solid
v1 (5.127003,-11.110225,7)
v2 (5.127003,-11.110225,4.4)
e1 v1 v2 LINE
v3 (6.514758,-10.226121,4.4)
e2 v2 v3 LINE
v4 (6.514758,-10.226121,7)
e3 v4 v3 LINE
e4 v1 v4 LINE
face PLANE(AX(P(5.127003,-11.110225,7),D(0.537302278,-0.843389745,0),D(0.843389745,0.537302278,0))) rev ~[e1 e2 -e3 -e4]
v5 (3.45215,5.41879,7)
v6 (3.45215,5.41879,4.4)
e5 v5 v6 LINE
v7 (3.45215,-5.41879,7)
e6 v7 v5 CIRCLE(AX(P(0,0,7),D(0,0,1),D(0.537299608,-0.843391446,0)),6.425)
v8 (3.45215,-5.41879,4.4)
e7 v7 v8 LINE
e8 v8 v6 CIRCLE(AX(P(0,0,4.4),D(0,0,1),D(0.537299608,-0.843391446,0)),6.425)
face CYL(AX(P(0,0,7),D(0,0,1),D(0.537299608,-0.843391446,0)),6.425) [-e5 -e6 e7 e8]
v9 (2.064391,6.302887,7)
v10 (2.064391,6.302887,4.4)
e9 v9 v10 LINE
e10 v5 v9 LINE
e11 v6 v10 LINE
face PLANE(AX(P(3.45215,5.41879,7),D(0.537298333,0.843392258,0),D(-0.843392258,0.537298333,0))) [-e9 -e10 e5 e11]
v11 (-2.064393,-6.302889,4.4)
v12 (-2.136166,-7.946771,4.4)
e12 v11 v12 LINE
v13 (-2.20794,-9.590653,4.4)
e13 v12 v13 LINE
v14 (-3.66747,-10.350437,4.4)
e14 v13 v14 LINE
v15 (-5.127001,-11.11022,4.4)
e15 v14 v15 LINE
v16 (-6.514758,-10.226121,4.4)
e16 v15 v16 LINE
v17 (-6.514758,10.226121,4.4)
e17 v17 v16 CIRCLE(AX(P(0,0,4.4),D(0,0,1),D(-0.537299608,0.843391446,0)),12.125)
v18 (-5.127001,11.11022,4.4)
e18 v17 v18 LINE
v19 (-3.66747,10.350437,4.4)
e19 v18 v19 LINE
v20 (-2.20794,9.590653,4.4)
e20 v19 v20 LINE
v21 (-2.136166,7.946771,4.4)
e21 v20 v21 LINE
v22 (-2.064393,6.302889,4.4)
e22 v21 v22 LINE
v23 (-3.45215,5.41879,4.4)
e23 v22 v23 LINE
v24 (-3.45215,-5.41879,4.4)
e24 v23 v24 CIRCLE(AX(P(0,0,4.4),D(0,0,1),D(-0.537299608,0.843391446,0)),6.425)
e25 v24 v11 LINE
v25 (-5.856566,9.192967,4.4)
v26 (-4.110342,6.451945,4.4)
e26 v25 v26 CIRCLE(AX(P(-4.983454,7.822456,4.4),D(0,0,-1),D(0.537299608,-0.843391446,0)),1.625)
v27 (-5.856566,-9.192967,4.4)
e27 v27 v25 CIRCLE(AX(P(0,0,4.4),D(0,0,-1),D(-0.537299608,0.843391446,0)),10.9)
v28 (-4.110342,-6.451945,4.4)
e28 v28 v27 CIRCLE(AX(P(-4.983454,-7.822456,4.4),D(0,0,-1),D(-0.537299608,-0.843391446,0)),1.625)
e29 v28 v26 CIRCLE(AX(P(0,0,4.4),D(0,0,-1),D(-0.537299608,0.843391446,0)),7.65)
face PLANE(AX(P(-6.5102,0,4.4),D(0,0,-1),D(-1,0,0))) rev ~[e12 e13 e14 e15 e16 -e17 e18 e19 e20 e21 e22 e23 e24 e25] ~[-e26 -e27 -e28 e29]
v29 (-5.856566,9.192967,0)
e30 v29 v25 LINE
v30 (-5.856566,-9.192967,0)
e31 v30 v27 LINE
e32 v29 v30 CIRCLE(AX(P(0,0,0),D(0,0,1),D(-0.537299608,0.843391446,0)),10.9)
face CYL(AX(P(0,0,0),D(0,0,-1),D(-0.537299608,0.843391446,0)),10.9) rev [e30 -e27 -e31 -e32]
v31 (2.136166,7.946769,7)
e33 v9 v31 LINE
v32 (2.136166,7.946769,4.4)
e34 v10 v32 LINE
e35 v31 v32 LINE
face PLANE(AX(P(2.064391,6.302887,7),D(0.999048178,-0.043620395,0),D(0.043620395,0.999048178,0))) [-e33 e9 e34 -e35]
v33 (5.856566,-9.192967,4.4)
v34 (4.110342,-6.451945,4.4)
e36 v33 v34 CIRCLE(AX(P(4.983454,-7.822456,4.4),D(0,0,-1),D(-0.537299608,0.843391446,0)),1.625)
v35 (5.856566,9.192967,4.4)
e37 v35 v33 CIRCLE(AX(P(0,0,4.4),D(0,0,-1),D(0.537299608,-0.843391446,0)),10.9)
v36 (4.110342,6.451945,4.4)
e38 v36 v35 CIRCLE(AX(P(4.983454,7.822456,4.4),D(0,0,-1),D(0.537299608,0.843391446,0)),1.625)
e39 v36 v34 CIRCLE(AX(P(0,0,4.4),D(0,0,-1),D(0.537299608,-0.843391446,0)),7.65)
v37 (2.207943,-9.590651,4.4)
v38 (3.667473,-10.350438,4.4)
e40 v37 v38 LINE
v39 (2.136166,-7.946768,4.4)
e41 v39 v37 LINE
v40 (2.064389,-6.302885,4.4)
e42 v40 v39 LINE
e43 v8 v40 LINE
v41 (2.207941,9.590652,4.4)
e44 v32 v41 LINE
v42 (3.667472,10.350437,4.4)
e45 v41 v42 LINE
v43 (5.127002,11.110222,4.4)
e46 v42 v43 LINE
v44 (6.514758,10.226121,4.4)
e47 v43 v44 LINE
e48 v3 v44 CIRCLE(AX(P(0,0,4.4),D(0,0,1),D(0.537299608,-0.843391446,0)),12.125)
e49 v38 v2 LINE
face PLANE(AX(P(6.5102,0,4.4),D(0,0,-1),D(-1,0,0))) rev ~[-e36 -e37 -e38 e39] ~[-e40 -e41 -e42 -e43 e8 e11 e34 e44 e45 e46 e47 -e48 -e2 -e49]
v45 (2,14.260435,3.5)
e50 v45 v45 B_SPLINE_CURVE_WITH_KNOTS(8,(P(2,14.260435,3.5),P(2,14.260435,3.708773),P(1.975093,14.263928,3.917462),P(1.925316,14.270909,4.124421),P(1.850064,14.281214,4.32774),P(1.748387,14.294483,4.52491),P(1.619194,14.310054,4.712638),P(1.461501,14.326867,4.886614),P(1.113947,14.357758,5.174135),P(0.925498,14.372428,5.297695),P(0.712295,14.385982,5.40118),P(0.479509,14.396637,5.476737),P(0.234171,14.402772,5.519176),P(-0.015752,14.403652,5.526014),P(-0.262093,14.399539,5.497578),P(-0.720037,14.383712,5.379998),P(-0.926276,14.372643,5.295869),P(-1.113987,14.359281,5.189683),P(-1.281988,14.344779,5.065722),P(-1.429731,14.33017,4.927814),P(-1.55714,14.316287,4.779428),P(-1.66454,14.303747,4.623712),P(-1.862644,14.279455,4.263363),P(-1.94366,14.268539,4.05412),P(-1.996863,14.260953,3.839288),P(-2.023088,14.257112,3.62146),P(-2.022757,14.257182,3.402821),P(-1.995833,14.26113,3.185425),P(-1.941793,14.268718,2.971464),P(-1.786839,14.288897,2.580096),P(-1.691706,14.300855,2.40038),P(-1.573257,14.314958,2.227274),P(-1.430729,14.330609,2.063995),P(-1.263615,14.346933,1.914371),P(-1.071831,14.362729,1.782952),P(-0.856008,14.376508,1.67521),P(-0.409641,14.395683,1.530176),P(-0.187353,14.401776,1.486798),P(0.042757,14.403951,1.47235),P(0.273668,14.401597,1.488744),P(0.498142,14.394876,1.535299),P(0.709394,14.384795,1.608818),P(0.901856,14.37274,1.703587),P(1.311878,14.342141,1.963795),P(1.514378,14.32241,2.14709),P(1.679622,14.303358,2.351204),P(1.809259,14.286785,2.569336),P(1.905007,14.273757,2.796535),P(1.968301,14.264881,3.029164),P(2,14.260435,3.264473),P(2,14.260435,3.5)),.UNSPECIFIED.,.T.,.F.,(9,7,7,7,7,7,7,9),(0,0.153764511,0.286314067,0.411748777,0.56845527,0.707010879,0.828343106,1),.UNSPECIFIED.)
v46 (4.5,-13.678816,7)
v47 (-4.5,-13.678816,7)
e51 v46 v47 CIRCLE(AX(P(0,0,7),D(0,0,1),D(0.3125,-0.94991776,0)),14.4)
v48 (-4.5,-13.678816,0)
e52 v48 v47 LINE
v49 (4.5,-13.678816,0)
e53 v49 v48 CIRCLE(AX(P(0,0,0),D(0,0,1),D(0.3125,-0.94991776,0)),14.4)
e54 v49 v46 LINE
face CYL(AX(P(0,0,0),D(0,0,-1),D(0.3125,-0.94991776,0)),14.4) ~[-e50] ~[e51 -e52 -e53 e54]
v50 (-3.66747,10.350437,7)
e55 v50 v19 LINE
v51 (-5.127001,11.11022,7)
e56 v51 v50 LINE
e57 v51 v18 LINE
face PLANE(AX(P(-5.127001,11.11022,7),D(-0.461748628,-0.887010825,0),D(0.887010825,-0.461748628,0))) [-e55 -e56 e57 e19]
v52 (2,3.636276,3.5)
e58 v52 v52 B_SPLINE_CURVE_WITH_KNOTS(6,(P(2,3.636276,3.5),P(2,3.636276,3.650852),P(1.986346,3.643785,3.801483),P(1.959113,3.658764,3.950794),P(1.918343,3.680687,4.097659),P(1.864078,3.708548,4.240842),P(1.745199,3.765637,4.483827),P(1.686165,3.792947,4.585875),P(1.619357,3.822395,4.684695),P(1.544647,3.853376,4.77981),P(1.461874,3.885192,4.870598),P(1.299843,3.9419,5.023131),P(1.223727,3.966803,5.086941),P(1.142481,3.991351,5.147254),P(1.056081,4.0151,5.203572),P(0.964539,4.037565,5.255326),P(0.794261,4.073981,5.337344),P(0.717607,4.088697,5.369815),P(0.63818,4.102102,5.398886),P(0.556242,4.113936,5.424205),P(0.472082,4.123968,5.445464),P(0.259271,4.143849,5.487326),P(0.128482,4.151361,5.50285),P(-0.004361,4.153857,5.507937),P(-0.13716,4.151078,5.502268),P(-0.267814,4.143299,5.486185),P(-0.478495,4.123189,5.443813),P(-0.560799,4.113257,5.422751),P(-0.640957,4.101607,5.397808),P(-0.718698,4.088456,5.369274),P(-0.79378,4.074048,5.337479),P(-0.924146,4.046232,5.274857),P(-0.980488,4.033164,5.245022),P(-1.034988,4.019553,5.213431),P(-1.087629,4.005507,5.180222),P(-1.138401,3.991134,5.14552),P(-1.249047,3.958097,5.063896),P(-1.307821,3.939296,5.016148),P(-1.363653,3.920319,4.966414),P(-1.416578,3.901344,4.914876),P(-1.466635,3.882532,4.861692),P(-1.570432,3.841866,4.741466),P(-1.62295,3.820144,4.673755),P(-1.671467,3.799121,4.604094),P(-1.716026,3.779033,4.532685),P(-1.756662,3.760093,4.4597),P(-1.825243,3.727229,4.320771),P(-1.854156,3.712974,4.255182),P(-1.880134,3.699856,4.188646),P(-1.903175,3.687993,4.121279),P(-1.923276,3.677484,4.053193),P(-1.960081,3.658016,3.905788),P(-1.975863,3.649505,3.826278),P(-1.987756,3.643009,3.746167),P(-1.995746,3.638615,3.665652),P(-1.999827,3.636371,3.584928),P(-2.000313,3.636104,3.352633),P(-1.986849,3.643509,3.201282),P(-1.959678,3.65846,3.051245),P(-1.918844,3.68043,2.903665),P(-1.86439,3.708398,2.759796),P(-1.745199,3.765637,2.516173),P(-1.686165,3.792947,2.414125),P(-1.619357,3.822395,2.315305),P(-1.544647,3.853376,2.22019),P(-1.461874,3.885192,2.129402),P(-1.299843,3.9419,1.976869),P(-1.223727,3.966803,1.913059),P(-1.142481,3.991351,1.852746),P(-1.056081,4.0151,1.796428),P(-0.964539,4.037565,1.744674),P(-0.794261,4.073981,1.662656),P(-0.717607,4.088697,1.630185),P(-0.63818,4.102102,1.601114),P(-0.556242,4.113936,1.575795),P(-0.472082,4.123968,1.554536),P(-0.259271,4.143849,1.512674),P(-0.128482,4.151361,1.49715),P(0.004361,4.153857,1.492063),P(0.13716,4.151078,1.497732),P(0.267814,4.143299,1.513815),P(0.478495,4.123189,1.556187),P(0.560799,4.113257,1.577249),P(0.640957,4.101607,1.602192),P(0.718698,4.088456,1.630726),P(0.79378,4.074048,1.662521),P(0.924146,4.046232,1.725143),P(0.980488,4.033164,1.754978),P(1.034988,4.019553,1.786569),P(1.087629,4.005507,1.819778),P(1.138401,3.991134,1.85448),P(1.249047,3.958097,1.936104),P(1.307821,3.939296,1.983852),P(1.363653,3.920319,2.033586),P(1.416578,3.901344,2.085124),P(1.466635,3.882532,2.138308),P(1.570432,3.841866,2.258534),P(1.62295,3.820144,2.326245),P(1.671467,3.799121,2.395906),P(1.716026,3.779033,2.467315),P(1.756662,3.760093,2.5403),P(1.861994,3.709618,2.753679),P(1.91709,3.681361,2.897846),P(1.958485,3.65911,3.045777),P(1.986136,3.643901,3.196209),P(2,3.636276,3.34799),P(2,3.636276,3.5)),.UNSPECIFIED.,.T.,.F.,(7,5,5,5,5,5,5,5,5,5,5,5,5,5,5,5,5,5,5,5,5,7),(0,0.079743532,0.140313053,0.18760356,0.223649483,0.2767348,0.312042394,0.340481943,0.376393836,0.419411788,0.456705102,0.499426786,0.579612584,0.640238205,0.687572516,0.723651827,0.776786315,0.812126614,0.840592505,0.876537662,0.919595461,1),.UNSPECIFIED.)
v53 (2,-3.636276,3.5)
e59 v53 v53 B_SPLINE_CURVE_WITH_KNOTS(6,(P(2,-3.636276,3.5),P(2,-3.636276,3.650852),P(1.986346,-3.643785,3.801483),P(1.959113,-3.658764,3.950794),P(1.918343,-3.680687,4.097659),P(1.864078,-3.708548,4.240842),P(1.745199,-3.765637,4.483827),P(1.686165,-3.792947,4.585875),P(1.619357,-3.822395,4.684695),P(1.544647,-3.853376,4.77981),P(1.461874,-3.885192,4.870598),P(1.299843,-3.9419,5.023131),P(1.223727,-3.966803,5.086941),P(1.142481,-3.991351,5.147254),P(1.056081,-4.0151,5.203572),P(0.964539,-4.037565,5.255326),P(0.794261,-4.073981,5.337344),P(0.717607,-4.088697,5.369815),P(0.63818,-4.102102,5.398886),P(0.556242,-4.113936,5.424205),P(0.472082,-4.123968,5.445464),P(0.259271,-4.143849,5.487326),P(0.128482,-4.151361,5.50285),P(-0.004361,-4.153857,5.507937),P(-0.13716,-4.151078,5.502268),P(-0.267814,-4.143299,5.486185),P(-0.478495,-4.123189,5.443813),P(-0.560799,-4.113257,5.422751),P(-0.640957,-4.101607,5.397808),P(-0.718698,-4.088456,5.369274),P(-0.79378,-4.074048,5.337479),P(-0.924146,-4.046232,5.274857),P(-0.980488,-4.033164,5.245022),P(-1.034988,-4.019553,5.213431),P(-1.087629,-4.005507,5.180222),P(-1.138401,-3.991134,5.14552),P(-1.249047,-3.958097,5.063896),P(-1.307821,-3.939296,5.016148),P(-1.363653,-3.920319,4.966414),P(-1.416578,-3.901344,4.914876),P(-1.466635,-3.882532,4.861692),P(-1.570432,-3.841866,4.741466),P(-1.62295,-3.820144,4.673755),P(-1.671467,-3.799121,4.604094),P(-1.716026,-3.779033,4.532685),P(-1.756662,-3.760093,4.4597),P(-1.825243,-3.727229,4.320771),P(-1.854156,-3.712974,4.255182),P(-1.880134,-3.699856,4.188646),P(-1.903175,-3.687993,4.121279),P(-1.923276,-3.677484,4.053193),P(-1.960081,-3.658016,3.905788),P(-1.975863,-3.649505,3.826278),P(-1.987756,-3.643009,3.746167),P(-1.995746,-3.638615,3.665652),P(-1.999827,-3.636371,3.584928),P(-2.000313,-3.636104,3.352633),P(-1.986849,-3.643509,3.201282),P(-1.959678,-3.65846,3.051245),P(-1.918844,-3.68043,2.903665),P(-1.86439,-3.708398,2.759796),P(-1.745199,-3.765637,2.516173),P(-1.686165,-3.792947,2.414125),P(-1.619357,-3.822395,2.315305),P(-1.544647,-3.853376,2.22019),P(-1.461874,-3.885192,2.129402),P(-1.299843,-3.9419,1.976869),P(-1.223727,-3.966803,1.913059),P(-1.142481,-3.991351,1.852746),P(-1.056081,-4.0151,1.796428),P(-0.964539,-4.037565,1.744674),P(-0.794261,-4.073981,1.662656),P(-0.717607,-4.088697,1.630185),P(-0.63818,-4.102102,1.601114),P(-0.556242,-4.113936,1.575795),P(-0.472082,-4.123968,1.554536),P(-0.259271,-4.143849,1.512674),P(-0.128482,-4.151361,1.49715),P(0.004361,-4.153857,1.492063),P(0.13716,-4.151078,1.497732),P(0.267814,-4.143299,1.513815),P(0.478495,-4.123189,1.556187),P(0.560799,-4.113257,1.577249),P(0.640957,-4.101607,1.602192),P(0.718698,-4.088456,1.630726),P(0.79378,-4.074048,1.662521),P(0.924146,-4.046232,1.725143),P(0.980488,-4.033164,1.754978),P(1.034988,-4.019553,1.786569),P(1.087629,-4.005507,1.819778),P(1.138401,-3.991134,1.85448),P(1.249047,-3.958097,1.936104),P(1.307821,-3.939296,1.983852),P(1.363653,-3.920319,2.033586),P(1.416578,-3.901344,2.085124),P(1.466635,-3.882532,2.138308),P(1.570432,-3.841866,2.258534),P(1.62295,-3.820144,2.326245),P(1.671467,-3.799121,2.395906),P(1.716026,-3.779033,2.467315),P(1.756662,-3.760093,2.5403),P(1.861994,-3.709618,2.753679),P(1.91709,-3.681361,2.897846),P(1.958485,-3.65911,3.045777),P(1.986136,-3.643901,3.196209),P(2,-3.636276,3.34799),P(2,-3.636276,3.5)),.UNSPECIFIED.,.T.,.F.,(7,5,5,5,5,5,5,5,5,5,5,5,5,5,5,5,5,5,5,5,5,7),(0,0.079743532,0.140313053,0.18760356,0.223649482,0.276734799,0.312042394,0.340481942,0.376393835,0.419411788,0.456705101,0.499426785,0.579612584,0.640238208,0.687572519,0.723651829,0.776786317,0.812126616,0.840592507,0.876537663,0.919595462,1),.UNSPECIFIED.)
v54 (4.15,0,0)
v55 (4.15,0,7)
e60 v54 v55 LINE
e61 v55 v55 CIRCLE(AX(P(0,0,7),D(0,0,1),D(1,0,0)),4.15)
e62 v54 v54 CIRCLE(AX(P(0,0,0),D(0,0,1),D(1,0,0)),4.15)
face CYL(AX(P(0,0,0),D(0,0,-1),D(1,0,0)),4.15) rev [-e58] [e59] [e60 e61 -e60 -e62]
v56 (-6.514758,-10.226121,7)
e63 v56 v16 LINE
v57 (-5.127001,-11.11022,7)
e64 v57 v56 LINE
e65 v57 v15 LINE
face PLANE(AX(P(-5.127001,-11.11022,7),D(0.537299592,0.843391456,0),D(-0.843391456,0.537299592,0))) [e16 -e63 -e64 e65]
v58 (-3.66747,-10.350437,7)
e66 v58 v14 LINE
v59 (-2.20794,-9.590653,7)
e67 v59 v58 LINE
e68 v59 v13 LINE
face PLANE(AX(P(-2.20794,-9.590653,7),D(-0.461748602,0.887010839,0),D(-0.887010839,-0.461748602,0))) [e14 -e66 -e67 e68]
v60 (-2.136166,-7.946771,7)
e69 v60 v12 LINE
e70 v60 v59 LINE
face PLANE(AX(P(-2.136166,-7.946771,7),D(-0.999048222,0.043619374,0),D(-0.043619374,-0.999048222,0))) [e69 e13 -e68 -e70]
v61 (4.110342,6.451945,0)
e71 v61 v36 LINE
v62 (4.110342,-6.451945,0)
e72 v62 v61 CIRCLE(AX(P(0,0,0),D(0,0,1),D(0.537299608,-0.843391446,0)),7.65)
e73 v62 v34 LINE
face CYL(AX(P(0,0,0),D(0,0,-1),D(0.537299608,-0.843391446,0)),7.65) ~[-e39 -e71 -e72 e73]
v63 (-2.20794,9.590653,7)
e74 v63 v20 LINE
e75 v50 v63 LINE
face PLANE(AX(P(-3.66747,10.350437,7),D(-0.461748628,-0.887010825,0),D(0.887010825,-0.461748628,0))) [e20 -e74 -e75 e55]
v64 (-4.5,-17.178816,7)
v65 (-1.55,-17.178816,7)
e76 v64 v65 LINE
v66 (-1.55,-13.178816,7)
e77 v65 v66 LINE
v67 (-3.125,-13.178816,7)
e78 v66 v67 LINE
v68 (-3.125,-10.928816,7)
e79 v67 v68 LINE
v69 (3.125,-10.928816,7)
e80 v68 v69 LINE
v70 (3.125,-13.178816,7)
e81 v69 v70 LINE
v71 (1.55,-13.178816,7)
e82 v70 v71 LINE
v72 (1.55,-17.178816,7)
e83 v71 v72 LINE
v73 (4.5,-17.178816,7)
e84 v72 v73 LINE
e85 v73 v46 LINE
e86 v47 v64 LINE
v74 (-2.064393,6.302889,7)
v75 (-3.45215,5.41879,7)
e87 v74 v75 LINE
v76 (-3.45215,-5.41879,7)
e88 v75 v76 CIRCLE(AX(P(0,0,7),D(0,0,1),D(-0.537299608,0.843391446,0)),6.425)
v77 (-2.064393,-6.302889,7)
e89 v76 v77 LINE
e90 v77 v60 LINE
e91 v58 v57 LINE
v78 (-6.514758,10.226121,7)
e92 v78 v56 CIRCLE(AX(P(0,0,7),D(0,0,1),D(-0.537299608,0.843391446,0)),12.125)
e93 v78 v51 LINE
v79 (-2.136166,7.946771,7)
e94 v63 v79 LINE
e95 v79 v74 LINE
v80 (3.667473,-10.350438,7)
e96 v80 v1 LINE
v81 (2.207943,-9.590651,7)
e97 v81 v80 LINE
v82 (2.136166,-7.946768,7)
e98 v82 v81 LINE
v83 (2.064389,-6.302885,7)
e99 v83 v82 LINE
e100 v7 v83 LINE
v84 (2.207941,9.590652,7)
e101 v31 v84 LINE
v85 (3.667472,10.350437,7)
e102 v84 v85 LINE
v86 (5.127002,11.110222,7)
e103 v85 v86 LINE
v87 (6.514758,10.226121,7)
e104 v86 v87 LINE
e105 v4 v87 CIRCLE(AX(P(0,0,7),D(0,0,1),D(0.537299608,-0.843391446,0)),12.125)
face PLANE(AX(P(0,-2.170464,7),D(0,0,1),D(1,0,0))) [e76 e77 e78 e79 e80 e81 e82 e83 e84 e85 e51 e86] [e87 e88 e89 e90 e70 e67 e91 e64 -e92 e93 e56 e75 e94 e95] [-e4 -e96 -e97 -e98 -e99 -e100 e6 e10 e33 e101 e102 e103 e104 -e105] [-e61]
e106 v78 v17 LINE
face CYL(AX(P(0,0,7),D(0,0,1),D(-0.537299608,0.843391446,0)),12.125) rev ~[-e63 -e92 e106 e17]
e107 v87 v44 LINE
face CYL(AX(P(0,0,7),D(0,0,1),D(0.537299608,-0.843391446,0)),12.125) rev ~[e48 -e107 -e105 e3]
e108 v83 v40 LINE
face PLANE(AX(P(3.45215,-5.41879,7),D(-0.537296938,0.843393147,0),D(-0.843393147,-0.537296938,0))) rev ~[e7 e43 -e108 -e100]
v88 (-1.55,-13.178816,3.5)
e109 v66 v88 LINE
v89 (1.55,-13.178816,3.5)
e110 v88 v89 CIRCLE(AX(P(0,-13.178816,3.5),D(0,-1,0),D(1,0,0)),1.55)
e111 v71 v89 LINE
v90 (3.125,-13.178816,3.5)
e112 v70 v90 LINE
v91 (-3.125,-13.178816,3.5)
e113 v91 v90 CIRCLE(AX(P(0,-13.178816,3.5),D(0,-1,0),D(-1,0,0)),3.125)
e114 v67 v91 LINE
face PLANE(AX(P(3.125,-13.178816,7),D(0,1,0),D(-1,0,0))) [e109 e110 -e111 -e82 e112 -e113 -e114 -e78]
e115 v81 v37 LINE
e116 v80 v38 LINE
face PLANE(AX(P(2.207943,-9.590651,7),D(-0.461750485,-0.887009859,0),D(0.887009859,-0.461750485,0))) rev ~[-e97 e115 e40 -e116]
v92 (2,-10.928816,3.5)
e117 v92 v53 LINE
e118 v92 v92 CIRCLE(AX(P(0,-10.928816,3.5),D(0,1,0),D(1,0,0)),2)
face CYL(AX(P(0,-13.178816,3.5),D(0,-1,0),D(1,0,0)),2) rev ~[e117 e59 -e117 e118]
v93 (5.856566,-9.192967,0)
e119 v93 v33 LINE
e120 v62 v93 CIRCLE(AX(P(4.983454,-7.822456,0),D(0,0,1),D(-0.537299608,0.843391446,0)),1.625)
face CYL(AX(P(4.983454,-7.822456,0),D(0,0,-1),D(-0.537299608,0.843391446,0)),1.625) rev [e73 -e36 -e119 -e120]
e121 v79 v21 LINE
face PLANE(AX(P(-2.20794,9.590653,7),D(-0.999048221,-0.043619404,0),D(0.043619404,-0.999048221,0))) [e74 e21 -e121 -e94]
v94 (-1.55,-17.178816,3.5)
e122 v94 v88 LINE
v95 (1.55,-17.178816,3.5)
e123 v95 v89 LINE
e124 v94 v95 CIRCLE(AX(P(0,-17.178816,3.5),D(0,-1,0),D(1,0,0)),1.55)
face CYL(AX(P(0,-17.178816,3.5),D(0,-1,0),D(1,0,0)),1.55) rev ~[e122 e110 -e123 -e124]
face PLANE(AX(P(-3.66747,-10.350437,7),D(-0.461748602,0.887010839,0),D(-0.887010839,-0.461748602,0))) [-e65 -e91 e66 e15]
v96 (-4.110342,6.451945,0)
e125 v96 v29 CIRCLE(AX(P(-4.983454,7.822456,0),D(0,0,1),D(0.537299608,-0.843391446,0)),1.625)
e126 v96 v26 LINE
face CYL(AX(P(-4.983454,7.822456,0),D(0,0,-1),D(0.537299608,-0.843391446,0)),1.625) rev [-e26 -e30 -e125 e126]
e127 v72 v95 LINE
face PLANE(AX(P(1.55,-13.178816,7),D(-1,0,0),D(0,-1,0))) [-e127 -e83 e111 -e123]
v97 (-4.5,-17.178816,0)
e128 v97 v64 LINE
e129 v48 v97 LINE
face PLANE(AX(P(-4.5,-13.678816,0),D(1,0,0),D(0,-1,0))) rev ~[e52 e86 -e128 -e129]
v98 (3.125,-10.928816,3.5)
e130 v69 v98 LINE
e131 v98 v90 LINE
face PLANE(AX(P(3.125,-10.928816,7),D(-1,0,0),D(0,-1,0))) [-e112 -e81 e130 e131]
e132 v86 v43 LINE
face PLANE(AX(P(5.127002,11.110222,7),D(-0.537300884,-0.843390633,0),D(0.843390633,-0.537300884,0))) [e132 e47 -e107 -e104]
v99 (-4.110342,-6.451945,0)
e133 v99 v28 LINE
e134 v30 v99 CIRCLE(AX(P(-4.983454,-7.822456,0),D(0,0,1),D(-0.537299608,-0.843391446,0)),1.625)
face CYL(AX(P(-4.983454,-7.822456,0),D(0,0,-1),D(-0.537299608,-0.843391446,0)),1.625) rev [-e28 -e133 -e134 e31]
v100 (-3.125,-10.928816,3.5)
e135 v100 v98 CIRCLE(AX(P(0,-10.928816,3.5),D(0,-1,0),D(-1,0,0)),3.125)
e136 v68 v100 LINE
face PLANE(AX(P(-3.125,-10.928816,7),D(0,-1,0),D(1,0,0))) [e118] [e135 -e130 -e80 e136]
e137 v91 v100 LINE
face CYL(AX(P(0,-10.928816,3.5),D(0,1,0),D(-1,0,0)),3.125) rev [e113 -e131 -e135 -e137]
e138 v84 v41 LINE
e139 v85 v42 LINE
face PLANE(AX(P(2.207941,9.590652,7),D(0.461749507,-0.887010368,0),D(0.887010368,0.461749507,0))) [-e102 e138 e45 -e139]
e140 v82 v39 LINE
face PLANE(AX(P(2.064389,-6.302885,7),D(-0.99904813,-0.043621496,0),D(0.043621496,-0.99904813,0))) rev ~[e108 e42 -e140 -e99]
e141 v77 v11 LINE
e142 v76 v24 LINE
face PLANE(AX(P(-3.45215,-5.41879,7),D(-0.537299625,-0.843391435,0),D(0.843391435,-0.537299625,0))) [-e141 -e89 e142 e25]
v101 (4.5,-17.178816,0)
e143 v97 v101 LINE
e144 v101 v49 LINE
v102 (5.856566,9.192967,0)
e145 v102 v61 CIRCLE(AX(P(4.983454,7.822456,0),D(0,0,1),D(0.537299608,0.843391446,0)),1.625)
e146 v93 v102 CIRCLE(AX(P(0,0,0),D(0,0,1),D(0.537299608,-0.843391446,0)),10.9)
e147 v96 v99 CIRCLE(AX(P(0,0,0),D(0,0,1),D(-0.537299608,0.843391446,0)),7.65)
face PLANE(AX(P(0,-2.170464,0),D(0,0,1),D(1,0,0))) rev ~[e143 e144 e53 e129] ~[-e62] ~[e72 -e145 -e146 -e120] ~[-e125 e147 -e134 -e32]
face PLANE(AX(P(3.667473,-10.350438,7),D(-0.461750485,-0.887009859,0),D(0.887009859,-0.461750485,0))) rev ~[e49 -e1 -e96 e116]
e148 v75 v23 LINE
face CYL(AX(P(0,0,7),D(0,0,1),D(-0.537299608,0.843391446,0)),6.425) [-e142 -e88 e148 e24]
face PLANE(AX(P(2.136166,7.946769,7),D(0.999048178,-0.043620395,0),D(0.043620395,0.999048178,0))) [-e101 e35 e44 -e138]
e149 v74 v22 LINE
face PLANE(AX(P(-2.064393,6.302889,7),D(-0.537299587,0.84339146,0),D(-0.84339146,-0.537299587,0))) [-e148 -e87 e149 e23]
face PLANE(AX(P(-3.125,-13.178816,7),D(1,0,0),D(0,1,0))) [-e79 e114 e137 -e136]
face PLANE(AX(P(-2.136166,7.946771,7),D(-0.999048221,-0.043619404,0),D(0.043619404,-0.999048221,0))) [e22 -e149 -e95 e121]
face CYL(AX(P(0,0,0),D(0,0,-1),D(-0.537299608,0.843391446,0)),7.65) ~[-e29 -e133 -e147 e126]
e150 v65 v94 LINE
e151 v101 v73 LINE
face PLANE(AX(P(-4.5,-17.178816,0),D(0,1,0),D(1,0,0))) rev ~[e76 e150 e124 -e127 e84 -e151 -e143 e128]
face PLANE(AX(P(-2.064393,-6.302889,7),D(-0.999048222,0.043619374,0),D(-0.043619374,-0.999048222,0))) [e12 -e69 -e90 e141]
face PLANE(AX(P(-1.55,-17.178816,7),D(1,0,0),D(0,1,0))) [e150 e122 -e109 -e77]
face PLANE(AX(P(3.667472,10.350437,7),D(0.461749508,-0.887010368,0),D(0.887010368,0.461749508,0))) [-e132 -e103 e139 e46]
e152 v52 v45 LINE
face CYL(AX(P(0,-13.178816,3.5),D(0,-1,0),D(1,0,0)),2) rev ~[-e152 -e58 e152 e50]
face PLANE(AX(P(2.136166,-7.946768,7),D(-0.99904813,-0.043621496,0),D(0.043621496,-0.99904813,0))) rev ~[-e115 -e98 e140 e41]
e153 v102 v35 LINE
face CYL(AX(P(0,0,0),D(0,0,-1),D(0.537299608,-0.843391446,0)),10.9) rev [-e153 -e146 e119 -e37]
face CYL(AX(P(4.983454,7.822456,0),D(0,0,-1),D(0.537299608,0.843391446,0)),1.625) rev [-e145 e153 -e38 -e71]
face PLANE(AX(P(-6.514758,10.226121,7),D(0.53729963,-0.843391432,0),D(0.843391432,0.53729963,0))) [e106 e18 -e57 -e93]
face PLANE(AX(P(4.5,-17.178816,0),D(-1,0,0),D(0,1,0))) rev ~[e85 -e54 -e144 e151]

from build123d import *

# Parameters (mm, degrees)
SKETCH_R        = 4.15
EXTRUDE_DEPTH   = 7
SKETCH001_R     = 1.55
POCKET_DEPTH    = 4
SKETCH002_R     = 2
POCKET001_DEPTH = 27.5798157383
POCKET002_DEPTH = 3.5
POCKET003_DEPTH = 2.25
POCKET004_DEPTH = 2.6


with BuildPart() as part:
    # Sketch → Extrude (new body)
    with BuildSketch(Plane.XY):
        with BuildLine():
            ThreePointArc((4.5, -13.6788157382), (0, 14.4), (-4.5, -13.6788157382))
            Line((-4.5, -13.6788157382), (-4.5, -17.1788157382))
            Line((-4.5, -17.1788157382), (4.5, -17.1788157382))
            Line((4.5, -17.1788157382), (4.5, -13.6788157382))
        make_face()
        Circle(SKETCH_R, mode=Mode.SUBTRACT)
        with BuildLine():
            ThreePointArc((-4.1103420039, 6.4519445605), (-7.65, 0), (-4.1103420039, -6.4519445605))
            ThreePointArc((-5.856565731, -9.1929667594), (-3.612942768, -8.6955675235), (-4.1103420039, -6.4519445605))
            ThreePointArc((-5.856565731, 9.1929667594), (-10.9, 0), (-5.856565731, -9.1929667594))
            ThreePointArc((-4.1103420039, 6.4519445605), (-3.612942768, 8.6955675235), (-5.856565731, 9.1929667594))
        make_face(mode=Mode.SUBTRACT)
        with BuildLine():
            ThreePointArc((4.1103420039, -6.4519445605), (7.65, 0), (4.1103420039, 6.4519445605))
            ThreePointArc((5.856565731, 9.1929667594), (3.612942768, 8.6955675235), (4.1103420039, 6.4519445605))
            ThreePointArc((5.856565731, -9.1929667594), (10.9, 0), (5.856565731, 9.1929667594))
            ThreePointArc((4.1103420039, -6.4519445605), (3.612942768, -8.6955675235), (5.856565731, -9.1929667594))
        make_face(mode=Mode.SUBTRACT)
    extrude(amount=EXTRUDE_DEPTH)

    # Sketch001 → Pocket (cut)
    with BuildSketch(Plane.XZ.offset(17.1788157382)):
        with Locations((0, 3.5)):
            Circle(SKETCH001_R)
    extrude(amount=-POCKET_DEPTH, mode=Mode.SUBTRACT)

    # Sketch002 → Pocket001 (cut, through all)
    with BuildSketch(Plane.XZ.offset(13.1788157382)):
        with Locations((0, 3.5)):
            Circle(SKETCH002_R)
    extrude(amount=-POCKET001_DEPTH, mode=Mode.SUBTRACT)

    # Sketch003 → Pocket002 (cut)
    with BuildSketch(Plane.XY.offset(7)):
        Polygon((1.55, -17.1788157382), (-1.55, -17.1788157382), (-1.55, -13.1788157382), (-3.125, -13.1788157382), (-3.125, -10.9288157382), (3.125, -10.9288157382), (3.125, -13.1788157382), (1.55, -13.1788157382), align=None)
    extrude(amount=-POCKET002_DEPTH, mode=Mode.SUBTRACT)

    # Sketch004 → Pocket003 (cut)
    with BuildSketch(Plane.XZ.offset(10.9288157382)):
        with BuildLine():
            Line((-3.125, 3.5), (3.125, 3.5))
            ThreePointArc((-3.125, 3.5), (0, 0.375), (3.125, 3.5))
        make_face()
    extrude(amount=POCKET003_DEPTH, mode=Mode.SUBTRACT)

    # Sketch005 → Pocket004 (cut)
    with BuildSketch(Plane.XY.offset(7)):
        with BuildLine():
            ThreePointArc((-3.4521499836, 5.4187900393), (-6.425, 0), (-3.4521499836, -5.4187900393))
            Line((-3.4521499836, -5.4187900393), (-2.064393013, -6.3028887726))
            Line((-2.064393013, -6.3028887726), (-2.1361664367, -7.9467709324))
            Line((-2.1361664367, -7.9467709324), (-2.2079398605, -9.5906530922))
            Line((-2.2079398605, -9.5906530922), (-3.6674703033, -10.3504365259))
            Line((-3.6674703033, -10.3504365259), (-5.1270007461, -11.1102199597))
            Line((-5.1270007461, -11.1102199597), (-6.5147577512, -10.2261212805))
            ThreePointArc((-6.5147577512, 10.2261212805), (-12.125, 0), (-6.5147577512, -10.2261212805))
            Line((-6.5147577512, 10.2261212805), (-5.1270007739, 11.1102200297))
            Line((-5.1270007739, 11.1102200297), (-3.6674703412, 10.3504365457))
            Line((-3.6674703412, 10.3504365457), (-2.2079399085, 9.5906530616))
            Line((-2.2079399085, 9.5906530616), (-2.1361664349, 7.9467708897))
            Line((-2.1361664349, 7.9467708897), (-2.0643929612, 6.3028887178))
            Line((-2.0643929612, 6.3028887178), (-3.4521499836, 5.4187900393))
        make_face()
        with BuildLine():
            ThreePointArc((3.4521499836, -5.4187900393), (6.425, 0), (3.4521499836, 5.4187900393))
            Line((3.4521499836, 5.4187900393), (2.0643912497, 6.3028869075))
            Line((2.0643912497, 6.3028869075), (2.1361663732, 7.9467694786))
            Line((2.1361663732, 7.9467694786), (2.2079414968, 9.5906520497))
            Line((2.2079414968, 9.5906520497), (3.667471594, 10.3504371978))
            Line((3.667471594, 10.3504371978), (5.1270016912, 11.110222346))
            Line((5.1270016912, 11.110222346), (6.5147577512, 10.2261212805))
            ThreePointArc((6.5147577512, -10.2261212805), (12.125, 0), (6.5147577512, 10.2261212805))
            Line((5.1270027116, -11.1102249223), (6.5147577512, -10.2261212805))
            Line((3.6674729876, -10.3504379233), (5.1270027116, -11.1102249223))
            Line((2.2079432635, -9.5906509242), (3.6674729876, -10.3504379233))
            Line((2.1361663047, -7.9467679091), (2.2079432635, -9.5906509242))
            Line((2.0643893459, -6.3028848939), (2.1361663047, -7.9467679091))
            Line((3.4521499836, -5.4187900393), (2.0643893459, -6.3028848939))
        make_face()
    extrude(amount=-POCKET004_DEPTH, mode=Mode.SUBTRACT)


solid = part.part
